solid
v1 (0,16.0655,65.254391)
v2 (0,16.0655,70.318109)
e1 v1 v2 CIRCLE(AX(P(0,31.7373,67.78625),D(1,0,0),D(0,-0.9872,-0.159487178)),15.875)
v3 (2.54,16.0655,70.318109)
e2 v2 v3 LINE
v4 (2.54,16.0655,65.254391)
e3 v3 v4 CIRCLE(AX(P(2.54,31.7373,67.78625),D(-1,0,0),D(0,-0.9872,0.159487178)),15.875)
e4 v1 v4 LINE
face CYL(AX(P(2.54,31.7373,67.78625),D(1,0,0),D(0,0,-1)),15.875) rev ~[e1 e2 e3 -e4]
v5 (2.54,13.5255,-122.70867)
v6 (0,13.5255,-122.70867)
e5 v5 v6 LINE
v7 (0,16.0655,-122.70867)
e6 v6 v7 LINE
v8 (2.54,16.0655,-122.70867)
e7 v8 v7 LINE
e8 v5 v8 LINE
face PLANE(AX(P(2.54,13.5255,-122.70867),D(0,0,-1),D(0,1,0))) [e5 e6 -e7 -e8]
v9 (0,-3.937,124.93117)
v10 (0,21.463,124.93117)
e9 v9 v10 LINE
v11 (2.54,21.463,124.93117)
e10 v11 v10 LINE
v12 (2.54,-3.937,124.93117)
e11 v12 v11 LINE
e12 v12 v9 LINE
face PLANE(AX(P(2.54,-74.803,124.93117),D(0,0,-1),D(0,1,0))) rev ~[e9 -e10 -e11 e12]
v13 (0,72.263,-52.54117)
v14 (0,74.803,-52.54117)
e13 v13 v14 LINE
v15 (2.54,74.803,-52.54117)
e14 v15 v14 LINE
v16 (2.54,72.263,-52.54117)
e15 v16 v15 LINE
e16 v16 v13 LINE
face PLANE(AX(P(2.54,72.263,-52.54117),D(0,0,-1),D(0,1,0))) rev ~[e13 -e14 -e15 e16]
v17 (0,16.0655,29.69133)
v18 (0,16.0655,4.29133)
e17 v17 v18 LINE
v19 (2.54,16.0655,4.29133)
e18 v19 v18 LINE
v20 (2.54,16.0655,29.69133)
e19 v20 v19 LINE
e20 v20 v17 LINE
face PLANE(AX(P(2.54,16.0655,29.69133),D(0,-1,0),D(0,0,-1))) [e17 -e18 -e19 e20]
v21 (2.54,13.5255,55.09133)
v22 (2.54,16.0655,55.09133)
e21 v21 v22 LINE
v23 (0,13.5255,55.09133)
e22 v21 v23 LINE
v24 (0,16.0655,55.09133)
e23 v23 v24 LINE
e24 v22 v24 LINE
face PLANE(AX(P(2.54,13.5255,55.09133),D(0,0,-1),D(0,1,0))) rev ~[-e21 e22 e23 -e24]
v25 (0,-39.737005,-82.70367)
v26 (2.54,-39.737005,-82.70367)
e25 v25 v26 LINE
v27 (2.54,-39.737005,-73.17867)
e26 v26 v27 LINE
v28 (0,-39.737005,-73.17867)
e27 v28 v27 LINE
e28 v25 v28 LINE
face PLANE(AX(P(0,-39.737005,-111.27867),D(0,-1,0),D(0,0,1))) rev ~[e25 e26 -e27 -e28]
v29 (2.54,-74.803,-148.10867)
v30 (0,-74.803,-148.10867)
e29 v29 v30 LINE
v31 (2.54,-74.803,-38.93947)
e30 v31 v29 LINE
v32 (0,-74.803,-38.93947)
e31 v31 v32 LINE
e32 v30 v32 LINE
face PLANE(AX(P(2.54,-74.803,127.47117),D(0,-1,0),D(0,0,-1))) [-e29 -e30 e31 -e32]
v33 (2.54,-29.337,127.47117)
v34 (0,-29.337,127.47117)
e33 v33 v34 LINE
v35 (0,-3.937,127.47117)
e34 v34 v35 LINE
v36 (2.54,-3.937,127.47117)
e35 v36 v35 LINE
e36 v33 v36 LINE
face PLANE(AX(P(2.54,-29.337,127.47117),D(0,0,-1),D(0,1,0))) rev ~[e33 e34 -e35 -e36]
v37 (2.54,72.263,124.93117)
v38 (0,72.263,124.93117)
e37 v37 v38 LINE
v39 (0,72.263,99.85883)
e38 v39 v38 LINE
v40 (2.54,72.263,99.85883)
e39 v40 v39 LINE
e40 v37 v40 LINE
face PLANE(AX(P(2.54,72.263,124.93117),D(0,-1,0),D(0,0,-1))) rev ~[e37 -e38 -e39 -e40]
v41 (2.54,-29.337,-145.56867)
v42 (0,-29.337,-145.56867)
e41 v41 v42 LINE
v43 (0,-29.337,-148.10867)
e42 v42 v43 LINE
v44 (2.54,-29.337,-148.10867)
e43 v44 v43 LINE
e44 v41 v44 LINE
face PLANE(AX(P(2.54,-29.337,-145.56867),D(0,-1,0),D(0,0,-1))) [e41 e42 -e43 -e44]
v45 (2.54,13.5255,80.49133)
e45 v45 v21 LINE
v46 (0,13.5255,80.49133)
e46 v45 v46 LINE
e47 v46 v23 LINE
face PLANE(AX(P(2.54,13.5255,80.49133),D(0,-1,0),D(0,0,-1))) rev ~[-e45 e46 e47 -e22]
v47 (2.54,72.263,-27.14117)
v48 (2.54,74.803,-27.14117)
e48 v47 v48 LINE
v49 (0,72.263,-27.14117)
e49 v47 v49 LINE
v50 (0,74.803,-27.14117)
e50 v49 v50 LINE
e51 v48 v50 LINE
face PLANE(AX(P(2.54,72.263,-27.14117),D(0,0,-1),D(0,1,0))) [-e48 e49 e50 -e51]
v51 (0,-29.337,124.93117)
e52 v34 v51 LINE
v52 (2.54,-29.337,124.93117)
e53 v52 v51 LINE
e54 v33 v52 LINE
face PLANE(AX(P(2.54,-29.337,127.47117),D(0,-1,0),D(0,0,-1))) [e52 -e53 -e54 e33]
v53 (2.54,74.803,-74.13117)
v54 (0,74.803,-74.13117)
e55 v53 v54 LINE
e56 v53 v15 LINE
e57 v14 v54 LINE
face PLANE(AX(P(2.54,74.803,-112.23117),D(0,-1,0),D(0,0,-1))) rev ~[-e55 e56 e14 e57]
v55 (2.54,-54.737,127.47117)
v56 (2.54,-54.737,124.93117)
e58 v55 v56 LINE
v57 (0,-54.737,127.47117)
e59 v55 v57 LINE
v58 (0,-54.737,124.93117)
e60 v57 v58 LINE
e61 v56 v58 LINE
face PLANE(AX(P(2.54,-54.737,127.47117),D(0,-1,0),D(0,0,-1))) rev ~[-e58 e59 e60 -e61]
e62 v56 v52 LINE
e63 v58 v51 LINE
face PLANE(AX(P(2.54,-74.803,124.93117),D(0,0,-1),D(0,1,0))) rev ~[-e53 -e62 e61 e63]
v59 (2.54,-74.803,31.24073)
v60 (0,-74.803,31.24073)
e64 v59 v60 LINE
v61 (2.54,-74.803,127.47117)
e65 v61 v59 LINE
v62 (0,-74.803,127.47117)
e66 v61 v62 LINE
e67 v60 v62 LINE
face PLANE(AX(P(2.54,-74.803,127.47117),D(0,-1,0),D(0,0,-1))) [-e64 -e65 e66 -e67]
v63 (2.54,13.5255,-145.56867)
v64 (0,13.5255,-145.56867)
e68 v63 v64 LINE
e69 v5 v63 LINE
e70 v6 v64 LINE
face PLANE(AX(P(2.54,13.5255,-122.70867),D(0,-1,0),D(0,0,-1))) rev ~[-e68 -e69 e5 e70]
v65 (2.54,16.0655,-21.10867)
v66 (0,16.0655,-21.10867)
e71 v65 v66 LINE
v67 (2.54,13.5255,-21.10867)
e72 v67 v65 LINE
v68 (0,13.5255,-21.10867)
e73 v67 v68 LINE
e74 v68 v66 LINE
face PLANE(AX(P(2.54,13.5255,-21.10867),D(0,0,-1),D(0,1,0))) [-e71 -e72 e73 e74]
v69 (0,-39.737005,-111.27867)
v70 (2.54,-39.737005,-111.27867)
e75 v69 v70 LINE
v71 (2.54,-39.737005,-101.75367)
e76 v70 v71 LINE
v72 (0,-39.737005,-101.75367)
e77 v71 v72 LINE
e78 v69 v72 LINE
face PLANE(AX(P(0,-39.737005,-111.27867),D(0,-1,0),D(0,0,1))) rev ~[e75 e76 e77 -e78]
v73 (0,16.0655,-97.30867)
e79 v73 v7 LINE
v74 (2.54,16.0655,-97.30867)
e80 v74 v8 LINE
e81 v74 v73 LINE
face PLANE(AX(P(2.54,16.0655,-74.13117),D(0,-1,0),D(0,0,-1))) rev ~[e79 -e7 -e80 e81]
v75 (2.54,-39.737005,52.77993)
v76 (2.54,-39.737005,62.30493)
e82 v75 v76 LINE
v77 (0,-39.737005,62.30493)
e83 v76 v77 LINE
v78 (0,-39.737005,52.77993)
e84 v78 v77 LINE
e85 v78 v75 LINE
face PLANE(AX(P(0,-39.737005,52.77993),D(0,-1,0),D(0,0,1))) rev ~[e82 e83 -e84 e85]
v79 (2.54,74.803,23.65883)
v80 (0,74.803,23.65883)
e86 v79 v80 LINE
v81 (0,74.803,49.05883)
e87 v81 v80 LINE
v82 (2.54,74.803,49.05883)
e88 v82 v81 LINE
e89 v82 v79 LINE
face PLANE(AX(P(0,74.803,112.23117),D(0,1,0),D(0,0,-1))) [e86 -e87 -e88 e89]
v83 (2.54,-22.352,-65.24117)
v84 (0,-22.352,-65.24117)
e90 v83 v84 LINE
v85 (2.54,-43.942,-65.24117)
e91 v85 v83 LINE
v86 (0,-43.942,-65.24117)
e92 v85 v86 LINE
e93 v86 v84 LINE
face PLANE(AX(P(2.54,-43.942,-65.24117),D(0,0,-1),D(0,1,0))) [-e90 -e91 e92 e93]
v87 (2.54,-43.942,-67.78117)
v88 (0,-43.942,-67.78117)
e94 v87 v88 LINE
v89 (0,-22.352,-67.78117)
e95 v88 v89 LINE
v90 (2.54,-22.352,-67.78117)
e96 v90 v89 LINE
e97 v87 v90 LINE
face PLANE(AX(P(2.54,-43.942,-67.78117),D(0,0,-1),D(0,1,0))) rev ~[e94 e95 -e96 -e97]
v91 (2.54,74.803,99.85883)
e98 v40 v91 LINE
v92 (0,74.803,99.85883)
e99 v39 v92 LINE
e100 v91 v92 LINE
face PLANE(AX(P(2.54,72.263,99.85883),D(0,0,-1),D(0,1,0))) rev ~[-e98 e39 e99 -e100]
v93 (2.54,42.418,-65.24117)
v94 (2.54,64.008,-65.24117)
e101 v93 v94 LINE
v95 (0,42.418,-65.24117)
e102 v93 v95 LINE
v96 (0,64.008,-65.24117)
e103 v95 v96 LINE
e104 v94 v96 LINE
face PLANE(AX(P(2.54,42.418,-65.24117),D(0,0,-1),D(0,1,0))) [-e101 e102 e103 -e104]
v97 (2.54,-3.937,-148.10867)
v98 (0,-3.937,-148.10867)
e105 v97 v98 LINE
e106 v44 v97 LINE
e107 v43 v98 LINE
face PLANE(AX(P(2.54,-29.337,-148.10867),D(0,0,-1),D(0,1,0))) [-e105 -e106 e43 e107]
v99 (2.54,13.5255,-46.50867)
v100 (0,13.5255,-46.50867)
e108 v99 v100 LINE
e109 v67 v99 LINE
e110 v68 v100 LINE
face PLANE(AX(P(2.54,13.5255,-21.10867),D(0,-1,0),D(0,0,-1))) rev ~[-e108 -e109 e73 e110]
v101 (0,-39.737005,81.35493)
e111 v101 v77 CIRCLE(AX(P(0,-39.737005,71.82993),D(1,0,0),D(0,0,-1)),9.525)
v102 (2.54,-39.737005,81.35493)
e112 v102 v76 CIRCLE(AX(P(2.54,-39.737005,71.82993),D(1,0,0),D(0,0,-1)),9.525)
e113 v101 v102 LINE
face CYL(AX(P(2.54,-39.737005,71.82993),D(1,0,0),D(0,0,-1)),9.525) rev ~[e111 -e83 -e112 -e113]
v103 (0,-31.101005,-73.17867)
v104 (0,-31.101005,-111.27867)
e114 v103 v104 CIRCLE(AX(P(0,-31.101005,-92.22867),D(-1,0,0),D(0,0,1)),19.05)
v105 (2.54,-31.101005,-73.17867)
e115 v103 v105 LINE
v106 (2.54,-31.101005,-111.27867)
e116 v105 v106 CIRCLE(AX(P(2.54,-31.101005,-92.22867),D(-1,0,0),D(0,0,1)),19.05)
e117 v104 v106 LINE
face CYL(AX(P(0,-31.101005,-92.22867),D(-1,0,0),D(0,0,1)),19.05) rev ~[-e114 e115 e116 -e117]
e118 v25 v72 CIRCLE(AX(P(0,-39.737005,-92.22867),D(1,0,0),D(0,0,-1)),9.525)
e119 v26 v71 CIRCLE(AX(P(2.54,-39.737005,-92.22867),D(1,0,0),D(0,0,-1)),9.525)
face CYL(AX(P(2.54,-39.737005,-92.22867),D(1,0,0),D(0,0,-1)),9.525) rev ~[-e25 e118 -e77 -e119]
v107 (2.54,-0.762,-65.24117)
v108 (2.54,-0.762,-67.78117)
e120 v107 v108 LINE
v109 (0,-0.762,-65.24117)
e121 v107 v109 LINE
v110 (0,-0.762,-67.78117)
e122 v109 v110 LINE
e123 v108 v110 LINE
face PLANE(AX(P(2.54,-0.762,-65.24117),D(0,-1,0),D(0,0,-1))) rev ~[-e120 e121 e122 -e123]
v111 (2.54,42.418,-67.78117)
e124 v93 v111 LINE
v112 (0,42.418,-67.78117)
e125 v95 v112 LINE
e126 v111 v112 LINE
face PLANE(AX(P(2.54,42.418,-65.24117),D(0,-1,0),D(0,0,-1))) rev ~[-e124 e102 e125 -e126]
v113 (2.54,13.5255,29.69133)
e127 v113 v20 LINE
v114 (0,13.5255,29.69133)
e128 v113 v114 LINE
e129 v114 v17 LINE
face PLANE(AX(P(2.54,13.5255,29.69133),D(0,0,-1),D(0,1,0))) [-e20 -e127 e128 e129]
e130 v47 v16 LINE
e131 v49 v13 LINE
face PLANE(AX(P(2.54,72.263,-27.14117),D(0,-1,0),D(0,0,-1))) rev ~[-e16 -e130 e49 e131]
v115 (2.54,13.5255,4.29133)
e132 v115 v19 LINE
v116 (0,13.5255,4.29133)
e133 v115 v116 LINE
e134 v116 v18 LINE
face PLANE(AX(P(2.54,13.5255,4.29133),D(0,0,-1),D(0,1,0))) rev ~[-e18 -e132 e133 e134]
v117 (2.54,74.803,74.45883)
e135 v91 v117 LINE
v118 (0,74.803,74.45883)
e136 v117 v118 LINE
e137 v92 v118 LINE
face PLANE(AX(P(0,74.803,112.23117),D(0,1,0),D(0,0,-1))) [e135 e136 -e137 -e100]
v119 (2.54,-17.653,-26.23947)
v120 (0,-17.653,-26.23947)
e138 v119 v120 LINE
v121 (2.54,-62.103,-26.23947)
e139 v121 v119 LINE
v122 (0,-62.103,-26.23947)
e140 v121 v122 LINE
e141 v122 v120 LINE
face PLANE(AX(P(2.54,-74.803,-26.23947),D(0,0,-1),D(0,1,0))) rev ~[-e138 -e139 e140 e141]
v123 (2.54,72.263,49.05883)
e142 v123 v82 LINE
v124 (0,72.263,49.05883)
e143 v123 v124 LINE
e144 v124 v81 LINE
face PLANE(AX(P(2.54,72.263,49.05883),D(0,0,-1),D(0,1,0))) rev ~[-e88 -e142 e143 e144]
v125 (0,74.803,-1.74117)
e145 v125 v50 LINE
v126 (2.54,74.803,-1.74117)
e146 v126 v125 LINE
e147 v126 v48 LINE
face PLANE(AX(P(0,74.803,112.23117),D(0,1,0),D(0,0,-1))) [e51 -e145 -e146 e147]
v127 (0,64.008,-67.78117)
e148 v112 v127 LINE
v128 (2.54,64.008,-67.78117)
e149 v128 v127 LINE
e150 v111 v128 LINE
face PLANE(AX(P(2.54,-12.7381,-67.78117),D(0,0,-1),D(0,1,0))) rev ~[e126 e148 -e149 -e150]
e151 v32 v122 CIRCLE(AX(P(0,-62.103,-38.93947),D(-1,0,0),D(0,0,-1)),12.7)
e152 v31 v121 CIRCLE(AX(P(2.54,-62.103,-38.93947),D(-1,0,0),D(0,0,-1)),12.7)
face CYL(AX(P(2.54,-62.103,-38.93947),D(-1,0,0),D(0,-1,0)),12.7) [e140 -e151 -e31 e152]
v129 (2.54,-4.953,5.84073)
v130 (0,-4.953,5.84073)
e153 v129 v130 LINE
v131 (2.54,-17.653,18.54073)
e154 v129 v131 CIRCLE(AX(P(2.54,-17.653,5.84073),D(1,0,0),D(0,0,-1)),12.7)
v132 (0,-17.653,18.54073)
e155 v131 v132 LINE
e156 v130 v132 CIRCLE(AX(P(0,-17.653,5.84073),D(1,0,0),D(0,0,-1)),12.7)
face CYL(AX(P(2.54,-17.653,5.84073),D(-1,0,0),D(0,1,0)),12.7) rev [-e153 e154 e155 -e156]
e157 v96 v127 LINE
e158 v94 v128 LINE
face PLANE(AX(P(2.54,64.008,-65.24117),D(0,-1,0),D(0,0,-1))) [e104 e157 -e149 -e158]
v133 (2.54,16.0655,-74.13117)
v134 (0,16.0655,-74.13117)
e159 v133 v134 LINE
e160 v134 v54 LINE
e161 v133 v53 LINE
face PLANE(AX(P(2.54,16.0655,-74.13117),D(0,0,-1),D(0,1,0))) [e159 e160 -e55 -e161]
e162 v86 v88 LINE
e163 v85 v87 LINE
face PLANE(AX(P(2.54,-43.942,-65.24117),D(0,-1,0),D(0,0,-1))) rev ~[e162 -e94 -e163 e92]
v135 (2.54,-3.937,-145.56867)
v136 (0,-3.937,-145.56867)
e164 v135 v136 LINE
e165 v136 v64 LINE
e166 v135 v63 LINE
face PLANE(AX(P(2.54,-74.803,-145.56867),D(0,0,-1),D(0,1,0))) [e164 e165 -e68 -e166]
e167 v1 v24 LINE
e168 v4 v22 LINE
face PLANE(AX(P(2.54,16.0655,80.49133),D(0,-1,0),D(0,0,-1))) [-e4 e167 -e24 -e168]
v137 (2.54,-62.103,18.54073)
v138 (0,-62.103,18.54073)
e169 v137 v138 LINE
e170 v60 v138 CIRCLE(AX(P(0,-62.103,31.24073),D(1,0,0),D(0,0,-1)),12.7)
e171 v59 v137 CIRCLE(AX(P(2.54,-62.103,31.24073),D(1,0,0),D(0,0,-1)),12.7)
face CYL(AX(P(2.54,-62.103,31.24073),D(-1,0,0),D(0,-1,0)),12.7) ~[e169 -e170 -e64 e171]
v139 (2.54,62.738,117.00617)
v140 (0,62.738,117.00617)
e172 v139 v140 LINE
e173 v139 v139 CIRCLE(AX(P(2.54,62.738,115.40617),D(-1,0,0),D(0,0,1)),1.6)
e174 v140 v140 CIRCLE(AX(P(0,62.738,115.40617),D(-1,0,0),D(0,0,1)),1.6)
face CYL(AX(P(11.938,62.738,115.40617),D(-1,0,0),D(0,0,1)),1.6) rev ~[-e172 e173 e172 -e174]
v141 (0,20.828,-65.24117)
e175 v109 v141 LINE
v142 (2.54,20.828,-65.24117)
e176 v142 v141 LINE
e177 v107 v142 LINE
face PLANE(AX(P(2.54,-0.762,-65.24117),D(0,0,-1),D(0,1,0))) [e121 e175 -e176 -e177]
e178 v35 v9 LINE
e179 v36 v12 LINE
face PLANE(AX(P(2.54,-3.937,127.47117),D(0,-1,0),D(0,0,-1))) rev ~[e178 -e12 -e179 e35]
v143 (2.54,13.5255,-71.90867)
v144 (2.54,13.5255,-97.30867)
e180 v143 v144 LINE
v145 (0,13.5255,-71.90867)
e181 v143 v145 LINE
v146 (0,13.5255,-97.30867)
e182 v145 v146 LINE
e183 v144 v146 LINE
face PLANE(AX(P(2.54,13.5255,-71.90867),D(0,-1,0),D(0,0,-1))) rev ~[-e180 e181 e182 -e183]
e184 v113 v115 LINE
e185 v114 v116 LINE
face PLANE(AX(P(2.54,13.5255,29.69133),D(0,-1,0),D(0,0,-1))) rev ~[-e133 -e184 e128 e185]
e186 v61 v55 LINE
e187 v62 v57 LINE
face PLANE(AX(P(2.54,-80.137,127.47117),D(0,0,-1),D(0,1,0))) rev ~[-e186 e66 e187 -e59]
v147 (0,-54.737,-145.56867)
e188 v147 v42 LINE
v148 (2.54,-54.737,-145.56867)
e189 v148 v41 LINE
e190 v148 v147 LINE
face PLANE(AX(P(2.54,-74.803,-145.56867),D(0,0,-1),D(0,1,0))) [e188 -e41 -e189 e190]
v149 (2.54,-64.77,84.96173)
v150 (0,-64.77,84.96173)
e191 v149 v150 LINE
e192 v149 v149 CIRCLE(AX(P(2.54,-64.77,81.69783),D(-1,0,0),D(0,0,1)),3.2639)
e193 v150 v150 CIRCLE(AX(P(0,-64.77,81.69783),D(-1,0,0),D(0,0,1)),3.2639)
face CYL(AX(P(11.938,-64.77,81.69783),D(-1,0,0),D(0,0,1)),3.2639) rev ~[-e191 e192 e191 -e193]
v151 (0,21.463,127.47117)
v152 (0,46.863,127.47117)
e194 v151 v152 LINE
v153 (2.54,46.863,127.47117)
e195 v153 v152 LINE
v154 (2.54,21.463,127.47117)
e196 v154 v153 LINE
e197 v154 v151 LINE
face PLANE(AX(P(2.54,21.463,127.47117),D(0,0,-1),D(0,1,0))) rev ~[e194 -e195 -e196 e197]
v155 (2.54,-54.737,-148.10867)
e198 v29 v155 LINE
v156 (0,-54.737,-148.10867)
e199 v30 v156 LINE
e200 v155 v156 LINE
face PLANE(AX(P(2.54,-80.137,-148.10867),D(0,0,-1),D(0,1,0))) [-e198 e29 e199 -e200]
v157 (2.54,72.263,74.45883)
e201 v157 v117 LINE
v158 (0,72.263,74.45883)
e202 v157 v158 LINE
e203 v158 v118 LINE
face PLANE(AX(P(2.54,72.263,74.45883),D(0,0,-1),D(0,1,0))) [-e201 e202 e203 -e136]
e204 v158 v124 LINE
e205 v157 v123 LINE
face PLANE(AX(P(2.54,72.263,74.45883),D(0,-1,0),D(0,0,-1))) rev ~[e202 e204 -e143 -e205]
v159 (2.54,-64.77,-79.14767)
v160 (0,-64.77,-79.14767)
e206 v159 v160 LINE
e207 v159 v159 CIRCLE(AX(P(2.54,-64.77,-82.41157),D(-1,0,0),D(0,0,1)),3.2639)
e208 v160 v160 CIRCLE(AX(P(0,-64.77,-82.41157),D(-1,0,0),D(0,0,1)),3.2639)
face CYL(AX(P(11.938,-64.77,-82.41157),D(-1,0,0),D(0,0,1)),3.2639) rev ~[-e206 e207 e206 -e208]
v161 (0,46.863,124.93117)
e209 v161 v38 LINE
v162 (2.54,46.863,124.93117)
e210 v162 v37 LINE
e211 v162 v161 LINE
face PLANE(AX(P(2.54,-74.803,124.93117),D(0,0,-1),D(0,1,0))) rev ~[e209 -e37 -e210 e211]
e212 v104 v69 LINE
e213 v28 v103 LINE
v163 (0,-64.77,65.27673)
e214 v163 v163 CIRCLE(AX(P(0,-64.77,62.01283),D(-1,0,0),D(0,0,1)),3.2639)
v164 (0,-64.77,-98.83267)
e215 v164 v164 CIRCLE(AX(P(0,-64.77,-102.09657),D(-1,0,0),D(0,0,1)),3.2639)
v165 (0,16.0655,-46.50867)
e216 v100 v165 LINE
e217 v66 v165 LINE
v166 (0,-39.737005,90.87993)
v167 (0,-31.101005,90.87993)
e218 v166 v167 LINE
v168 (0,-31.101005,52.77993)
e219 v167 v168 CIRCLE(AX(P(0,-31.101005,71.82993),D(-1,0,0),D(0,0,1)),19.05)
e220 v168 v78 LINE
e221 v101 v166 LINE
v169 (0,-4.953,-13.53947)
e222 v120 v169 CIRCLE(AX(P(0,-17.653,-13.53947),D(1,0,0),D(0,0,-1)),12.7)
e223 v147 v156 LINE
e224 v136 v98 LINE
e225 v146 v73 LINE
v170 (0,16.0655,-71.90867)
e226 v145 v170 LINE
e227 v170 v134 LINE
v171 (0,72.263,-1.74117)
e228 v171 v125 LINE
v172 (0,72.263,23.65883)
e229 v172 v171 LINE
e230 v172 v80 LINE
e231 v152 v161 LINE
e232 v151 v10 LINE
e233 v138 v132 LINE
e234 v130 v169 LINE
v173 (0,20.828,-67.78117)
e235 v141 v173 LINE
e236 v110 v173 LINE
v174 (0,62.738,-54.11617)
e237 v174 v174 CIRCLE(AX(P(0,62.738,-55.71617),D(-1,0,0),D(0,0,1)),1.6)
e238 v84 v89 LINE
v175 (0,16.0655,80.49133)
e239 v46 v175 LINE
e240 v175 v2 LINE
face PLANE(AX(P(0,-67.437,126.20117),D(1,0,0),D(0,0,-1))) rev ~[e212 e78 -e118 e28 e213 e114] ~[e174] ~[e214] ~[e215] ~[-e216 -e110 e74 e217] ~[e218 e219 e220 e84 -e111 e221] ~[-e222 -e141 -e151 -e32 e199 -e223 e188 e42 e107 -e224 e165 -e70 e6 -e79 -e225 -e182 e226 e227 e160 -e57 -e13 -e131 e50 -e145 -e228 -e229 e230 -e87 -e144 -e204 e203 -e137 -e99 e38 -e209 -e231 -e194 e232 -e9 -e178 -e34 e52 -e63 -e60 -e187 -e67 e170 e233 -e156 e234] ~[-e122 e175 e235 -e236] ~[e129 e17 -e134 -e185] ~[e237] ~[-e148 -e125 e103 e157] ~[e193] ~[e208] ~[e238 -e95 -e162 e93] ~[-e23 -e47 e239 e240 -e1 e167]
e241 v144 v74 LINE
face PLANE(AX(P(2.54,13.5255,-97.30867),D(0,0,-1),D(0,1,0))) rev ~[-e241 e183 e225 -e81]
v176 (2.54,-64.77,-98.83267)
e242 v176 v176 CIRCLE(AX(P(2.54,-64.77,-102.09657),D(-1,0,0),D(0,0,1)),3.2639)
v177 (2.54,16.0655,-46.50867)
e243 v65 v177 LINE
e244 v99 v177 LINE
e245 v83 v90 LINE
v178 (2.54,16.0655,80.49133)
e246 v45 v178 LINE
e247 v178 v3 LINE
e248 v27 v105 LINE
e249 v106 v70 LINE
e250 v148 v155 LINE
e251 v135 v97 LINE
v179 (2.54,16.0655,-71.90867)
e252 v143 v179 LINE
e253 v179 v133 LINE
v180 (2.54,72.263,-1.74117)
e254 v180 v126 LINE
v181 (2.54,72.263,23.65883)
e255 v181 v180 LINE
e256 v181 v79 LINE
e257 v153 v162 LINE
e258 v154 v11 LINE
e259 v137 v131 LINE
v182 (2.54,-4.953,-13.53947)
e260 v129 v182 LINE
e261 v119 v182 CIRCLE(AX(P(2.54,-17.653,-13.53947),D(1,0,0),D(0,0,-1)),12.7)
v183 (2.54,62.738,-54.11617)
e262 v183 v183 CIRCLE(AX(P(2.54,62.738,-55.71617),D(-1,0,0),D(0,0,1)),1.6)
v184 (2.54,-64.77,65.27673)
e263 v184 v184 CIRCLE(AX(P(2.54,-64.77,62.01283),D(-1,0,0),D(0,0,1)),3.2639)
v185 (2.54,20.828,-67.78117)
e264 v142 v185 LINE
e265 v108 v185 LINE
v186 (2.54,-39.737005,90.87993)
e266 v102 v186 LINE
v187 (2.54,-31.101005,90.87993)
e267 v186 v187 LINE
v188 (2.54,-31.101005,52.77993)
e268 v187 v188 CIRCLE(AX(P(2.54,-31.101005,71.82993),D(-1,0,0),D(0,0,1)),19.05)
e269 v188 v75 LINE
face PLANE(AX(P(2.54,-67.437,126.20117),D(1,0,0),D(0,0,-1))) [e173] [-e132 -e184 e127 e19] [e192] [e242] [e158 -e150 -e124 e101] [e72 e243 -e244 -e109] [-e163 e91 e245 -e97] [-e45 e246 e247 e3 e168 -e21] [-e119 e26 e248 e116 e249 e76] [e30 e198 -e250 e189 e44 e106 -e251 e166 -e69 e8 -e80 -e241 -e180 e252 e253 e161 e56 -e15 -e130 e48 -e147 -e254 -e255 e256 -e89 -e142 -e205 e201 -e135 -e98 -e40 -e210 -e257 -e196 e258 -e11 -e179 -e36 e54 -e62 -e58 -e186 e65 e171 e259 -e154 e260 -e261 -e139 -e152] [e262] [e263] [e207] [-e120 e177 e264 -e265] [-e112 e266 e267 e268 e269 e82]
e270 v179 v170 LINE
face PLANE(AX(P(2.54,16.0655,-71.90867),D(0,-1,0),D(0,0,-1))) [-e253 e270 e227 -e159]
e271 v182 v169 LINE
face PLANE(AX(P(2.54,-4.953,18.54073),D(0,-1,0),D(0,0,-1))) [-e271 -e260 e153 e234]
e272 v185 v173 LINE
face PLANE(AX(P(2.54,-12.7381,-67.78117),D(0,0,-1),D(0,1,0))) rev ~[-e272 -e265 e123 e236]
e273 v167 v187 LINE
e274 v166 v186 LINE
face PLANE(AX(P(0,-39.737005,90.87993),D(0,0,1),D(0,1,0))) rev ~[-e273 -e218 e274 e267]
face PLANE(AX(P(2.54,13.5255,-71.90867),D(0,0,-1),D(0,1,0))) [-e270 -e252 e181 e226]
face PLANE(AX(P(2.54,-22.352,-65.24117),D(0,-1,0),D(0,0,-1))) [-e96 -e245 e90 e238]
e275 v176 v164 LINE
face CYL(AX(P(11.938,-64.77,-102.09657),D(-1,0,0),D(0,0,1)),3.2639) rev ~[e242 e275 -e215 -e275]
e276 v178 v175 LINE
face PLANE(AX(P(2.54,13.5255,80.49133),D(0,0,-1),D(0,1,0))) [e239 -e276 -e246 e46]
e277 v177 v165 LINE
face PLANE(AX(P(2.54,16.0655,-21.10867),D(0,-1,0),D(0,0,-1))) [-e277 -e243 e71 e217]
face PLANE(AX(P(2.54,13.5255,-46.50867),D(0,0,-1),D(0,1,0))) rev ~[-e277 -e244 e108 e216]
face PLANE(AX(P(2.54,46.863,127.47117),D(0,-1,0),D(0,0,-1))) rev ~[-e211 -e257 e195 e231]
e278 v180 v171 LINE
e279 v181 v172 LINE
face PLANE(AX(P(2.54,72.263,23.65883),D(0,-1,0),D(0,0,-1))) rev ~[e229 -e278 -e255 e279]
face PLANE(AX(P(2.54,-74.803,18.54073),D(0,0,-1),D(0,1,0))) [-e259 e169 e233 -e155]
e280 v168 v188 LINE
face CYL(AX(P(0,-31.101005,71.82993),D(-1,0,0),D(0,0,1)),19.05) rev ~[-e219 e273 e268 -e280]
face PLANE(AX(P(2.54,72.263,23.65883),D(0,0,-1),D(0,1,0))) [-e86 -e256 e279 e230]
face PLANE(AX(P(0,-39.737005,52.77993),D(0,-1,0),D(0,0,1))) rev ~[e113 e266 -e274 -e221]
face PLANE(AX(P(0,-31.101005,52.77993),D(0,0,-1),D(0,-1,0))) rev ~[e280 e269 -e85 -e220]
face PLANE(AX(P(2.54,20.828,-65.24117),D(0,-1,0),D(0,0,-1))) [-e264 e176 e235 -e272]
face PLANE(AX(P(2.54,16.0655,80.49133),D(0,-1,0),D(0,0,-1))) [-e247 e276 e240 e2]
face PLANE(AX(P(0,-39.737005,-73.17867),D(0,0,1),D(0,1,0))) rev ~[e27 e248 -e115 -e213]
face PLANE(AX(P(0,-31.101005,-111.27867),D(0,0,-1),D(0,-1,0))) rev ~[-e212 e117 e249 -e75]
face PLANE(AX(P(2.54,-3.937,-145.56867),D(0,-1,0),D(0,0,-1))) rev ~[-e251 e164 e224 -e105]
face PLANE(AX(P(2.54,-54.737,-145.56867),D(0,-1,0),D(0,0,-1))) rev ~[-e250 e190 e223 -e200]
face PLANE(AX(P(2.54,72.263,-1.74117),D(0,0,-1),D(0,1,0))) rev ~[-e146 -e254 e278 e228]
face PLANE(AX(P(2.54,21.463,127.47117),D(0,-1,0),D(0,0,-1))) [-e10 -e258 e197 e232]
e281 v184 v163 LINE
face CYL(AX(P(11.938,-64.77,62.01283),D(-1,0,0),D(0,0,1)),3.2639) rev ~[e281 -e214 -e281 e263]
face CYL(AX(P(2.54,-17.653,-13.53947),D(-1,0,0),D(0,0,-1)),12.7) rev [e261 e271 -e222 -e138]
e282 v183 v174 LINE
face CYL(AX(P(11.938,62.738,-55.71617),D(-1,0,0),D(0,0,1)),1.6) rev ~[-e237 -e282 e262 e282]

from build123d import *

# Parameters (mm, degrees)
SKETCH1_W                   = 224.46234
SKETCH1_H                   = 149.606
BOSS_EXTRUDE1_DEPTH         = 2.54
SKETCH2_W                   = 44.45
SKETCH2_H                   = 87.5411
CUT_EXTRUDE1_DEPTH          = 135.899132423
F_1_4_CLEARANCE_HOLE1_D     = 6.5278
F_1_4_CLEARANCE_HOLE1_DEPTH = 9.398
F_1_4_CLEARANCE_HOLE1_TIP   = 1.961148974
SKETCH6_W                   = 25.4
SKETCH6_H                   = 2.54
CUT_EXTRUDE2_DEPTH          = 135.899132423
LPATTERN1_COUNT             = 4
LPATTERN1_PITCH             = 50.8
SKETCH7_W                   = 2.54
SKETCH7_H                   = 21.59
CUT_EXTRUDE3_DEPTH          = 135.899132423
LPATTERN2_COUNT             = 3
LPATTERN2_PITCH             = 43.18
SKETCH8_R                   = 9.525
CUT_EXTRUDE4_DEPTH          = 135.899132423
SKETCH9_R                   = 15.875
SKETCH9_W                   = 44.7802
SKETCH9_H                   = 69.85
CUT_EXTRUDE5_DEPTH          = 135.899132423
FILLET2_R                   = 12.7
SKETCH25_W                  = 12.7
SKETCH25_H                  = 147.066
BOSS_EXTRUDE5_DEPTH         = 2.54
SKETCH16_W                  = 2.54
SKETCH16_H                  = 25.4
BOSS_EXTRUDE2_DEPTH         = 2.54
SKETCH23_W                  = 44.45
SKETCH23_H                  = 87.5411
BOSS_EXTRUDE3_DEPTH         = 2.54
SKETCH24_W                  = 33.3375
SKETCH24_H                  = 149.606
BOSS_EXTRUDE4_DEPTH         = 2.54
LPATTERN3_COUNT             = 3
LPATTERN3_PITCH             = 50.8
LPATTERN3_COUNT_DIR2        = 2
LPATTERN3_PITCH_DIR2        = 273.03984
SKETCH18_W                  = 275.57984
SKETCH18_H                  = 5.334
CUT_EXTRUDE7_DEPTH          = 169.417839014
M3_CLEARANCE_HOLE1_D        = 3.2
M3_CLEARANCE_HOLE1_DEPTH    = 9.398
M3_CLEARANCE_HOLE1_TIP      = 0.96137699
SKETCH27_W                  = 73.9775
SKETCH27_H                  = 58.7375
CUT_EXTRUDE9_DEPTH          = 2.54
CUT_EXTRUDE10_DEPTH         = 2.54
SKETCH29_W                  = 25.4
SKETCH29_H                  = 2.54
CUT_EXTRUDE11_DEPTH         = 166.946131435
LPATTERN4_COUNT             = 5
LPATTERN4_PITCH             = 50.8


with BuildPart() as part:
    # Sketch1 → Boss-Extrude1 (new body)
    with BuildSketch(Plane(origin=(0, 0, 0), x_dir=(0, 0, -1), z_dir=(1, 0, 0))):
        Rectangle(SKETCH1_W, SKETCH1_H)
    extrude(amount=BOSS_EXTRUDE1_DEPTH)

    # Sketch2 → Cut-Extrude1 (cut, through all)
    with BuildSketch(Plane(origin=(2.54, 0, 0), x_dir=(0, 0, -1), z_dir=(1, 0, 0))):
        with Locations((90.00617, 31.03245)):
            Rectangle(SKETCH2_W, SKETCH2_H)
    extrude(amount=-CUT_EXTRUDE1_DEPTH, mode=Mode.SUBTRACT)

    # 1/4 Clearance Hole1
    with Locations(Plane(origin=(2.54, 0, 0), x_dir=(0, 0, -1), z_dir=(1, 0, 0))):
        with Locations((-81.69783, -64.77), (-62.01283, -64.77), (102.09657, -64.77), (82.41157, -64.77)):
            Hole(F_1_4_CLEARANCE_HOLE1_D / 2, depth=F_1_4_CLEARANCE_HOLE1_DEPTH)
            with Locations((0, 0, -(F_1_4_CLEARANCE_HOLE1_DEPTH + F_1_4_CLEARANCE_HOLE1_TIP / 2))):  # 118° drill point
                Cone(0, F_1_4_CLEARANCE_HOLE1_D / 2, F_1_4_CLEARANCE_HOLE1_TIP, mode=Mode.SUBTRACT)

    # Sketch6 → Cut-Extrude2 (cut, through all)
    with BuildSketch(Plane(origin=(2.54, 0, 0), x_dir=(0, 0, -1), z_dir=(1, 0, 0))):
        with Locations((39.84117, 73.533)):
            Rectangle(SKETCH6_W, SKETCH6_H)
    cut_extrude2 = extrude(amount=-CUT_EXTRUDE2_DEPTH, mode=Mode.SUBTRACT)

    # LPattern1: Cut-Extrude2 ×4
    with Locations(*[(0, 0, i * LPATTERN1_PITCH) for i in range(1, LPATTERN1_COUNT)]):
        add(cut_extrude2, mode=Mode.SUBTRACT)

    # Sketch7 → Cut-Extrude3 (cut, through all)
    with BuildSketch(Plane(origin=(2.54, 0, 0), x_dir=(0, 0, -1), z_dir=(1, 0, 0))):
        with Locations((66.51117, 53.213)):
            Rectangle(SKETCH7_W, SKETCH7_H)
    cut_extrude3 = extrude(amount=-CUT_EXTRUDE3_DEPTH, mode=Mode.SUBTRACT)

    # LPattern2: Cut-Extrude3 ×3
    with Locations(*[(0, -i * LPATTERN2_PITCH, 0) for i in range(1, LPATTERN2_COUNT)]):
        add(cut_extrude3, mode=Mode.SUBTRACT)

    # Sketch8 → Cut-Extrude4 (cut, through all)
    with BuildSketch(Plane(origin=(2.54, 0, 0), x_dir=(0, 0, -1), z_dir=(1, 0, 0))):
        with Locations((92.22867, -39.7370046)):
            Circle(SKETCH8_R)
        with Locations((-71.82993, -39.7370046)):
            Circle(SKETCH8_R)
    extrude(amount=-CUT_EXTRUDE4_DEPTH, mode=Mode.SUBTRACT)

    # Sketch9 → Cut-Extrude5 (cut, through all)
    with BuildSketch(Plane(origin=(2.54, 0, 0), x_dir=(0, 0, -1), z_dir=(1, 0, 0))):
        with Locations((-67.78625, 31.7373)):
            Circle(SKETCH9_R)
        with Locations((3.84937, -39.878)):
            Rectangle(SKETCH9_W, SKETCH9_H)
    extrude(amount=-CUT_EXTRUDE5_DEPTH, mode=Mode.SUBTRACT)

    # Fillet2
    fillet2_edges = [part.edges().sort_by_distance(p)[0] for p in [
        (1.27, -74.803, 18.54073),
        (1.27, -4.953, 18.54073),
        (1.27, -4.953, -26.23947),
        (1.27, -74.803, -26.23947),
    ]]
    fillet(fillet2_edges, radius=FILLET2_R)

    # Sketch25 → Boss-Extrude5 (add)
    with BuildSketch(Plane(origin=(2.54, 0, 0), x_dir=(0, 0, -1), z_dir=(1, 0, 0))):
        with Locations((-118.58117, -1.27)):
            Rectangle(SKETCH25_W, SKETCH25_H)
    extrude(amount=-BOSS_EXTRUDE5_DEPTH)

    # Sketch16 → Boss-Extrude2 (add)
    with BuildSketch(Plane(origin=(2.54, 0, 0), x_dir=(0, 0, -1), z_dir=(1, 0, 0))):
        with Locations((-126.20117, 34.163)):
            Rectangle(SKETCH16_W, SKETCH16_H)
    boss_extrude2 = extrude(amount=-BOSS_EXTRUDE2_DEPTH)

    # Sketch23 → Boss-Extrude3 (add)
    with BuildSketch(Plane(origin=(2.54, 0, 0), x_dir=(0, 0, -1), z_dir=(1, 0, 0))):
        with Locations((90.00617, 31.03245)):
            Rectangle(SKETCH23_W, SKETCH23_H)
    extrude(amount=-BOSS_EXTRUDE3_DEPTH)

    # Sketch24 → Boss-Extrude4 (add)
    with BuildSketch(Plane(origin=(2.54, 0, 0), x_dir=(0, 0, -1), z_dir=(1, 0, 0))):
        with Locations((128.89992, 0)):
            Rectangle(SKETCH24_W, SKETCH24_H)
    extrude(amount=-BOSS_EXTRUDE4_DEPTH)

    # LPattern3: Boss-Extrude2 3 × 2
    with Locations(*[(0, -i * LPATTERN3_PITCH, -j * LPATTERN3_PITCH_DIR2) for i in range(LPATTERN3_COUNT) for j in range(LPATTERN3_COUNT_DIR2) if (i, j) != (0, 0)]):
        add(boss_extrude2)

    # Sketch18 → Cut-Extrude7 (cut, through all)
    with BuildSketch(Plane(origin=(2.54, 0, 0), x_dir=(0, 0, -1), z_dir=(1, 0, 0))):
        with Locations((10.31875, -77.47)):
            Rectangle(SKETCH18_W, SKETCH18_H)
    extrude(amount=-CUT_EXTRUDE7_DEPTH, mode=Mode.SUBTRACT)

    # M3 Clearance Hole1
    with Locations(Plane(origin=(2.54, 0, 0), x_dir=(0, 0, -1), z_dir=(1, 0, 0))):
        with Locations((-115.40617, 62.738), (55.71617, 62.738)):
            Hole(M3_CLEARANCE_HOLE1_D / 2, depth=M3_CLEARANCE_HOLE1_DEPTH)
            with Locations((0, 0, -(M3_CLEARANCE_HOLE1_DEPTH + M3_CLEARANCE_HOLE1_TIP / 2))):  # 118° drill point
                Cone(0, M3_CLEARANCE_HOLE1_D / 2, M3_CLEARANCE_HOLE1_TIP, mode=Mode.SUBTRACT)

    # Sketch27 → Cut-Extrude9 (cut)
    with BuildSketch(Plane(origin=(2.54, 0, 0), x_dir=(0, 0, -1), z_dir=(1, 0, 0))):
        with Locations((111.11992, 45.43425)):
            Rectangle(SKETCH27_W, SKETCH27_H)
    extrude(amount=-CUT_EXTRUDE9_DEPTH, mode=Mode.SUBTRACT)

    # Sketch28 → Cut-Extrude10 (cut)
    with BuildSketch(Plane.ZY):
        with BuildLine():
            Line((-111.27867, -31.1010046), (-111.27867, -39.7370046))
            Line((-111.27867, -39.7370046), (-73.17867, -39.7370046))
            Line((-73.17867, -39.7370046), (-73.17867, -31.1010046))
            ThreePointArc((-73.17867, -31.1010046), (-92.22867, -12.0510046), (-111.27867, -31.1010046))
        make_face()
        with BuildLine():
            Line((52.77993, -31.1010046), (52.77993, -39.7370046))
            Line((52.77993, -39.7370046), (90.87993, -39.7370046))
            Line((90.87993, -39.7370046), (90.87993, -31.1010046))
            ThreePointArc((90.87993, -31.1010046), (71.82993, -12.0510046), (52.77993, -31.1010046))
        make_face()
    extrude(amount=-CUT_EXTRUDE10_DEPTH, mode=Mode.SUBTRACT)

    # Sketch29 → Cut-Extrude11 (cut, through all)
    with BuildSketch(Plane(origin=(2.54, 0, 0), x_dir=(0, 0, -1), z_dir=(1, 0, 0))):
        with Locations((135.40867, 14.7955)):
            Rectangle(SKETCH29_W, SKETCH29_H)
    cut_extrude11 = extrude(amount=-CUT_EXTRUDE11_DEPTH, mode=Mode.SUBTRACT)

    # LPattern4: Cut-Extrude11 ×5
    with Locations(*[(0, 0, i * LPATTERN4_PITCH) for i in range(1, LPATTERN4_COUNT)]):
        add(cut_extrude11, mode=Mode.SUBTRACT)


solid = part.part
